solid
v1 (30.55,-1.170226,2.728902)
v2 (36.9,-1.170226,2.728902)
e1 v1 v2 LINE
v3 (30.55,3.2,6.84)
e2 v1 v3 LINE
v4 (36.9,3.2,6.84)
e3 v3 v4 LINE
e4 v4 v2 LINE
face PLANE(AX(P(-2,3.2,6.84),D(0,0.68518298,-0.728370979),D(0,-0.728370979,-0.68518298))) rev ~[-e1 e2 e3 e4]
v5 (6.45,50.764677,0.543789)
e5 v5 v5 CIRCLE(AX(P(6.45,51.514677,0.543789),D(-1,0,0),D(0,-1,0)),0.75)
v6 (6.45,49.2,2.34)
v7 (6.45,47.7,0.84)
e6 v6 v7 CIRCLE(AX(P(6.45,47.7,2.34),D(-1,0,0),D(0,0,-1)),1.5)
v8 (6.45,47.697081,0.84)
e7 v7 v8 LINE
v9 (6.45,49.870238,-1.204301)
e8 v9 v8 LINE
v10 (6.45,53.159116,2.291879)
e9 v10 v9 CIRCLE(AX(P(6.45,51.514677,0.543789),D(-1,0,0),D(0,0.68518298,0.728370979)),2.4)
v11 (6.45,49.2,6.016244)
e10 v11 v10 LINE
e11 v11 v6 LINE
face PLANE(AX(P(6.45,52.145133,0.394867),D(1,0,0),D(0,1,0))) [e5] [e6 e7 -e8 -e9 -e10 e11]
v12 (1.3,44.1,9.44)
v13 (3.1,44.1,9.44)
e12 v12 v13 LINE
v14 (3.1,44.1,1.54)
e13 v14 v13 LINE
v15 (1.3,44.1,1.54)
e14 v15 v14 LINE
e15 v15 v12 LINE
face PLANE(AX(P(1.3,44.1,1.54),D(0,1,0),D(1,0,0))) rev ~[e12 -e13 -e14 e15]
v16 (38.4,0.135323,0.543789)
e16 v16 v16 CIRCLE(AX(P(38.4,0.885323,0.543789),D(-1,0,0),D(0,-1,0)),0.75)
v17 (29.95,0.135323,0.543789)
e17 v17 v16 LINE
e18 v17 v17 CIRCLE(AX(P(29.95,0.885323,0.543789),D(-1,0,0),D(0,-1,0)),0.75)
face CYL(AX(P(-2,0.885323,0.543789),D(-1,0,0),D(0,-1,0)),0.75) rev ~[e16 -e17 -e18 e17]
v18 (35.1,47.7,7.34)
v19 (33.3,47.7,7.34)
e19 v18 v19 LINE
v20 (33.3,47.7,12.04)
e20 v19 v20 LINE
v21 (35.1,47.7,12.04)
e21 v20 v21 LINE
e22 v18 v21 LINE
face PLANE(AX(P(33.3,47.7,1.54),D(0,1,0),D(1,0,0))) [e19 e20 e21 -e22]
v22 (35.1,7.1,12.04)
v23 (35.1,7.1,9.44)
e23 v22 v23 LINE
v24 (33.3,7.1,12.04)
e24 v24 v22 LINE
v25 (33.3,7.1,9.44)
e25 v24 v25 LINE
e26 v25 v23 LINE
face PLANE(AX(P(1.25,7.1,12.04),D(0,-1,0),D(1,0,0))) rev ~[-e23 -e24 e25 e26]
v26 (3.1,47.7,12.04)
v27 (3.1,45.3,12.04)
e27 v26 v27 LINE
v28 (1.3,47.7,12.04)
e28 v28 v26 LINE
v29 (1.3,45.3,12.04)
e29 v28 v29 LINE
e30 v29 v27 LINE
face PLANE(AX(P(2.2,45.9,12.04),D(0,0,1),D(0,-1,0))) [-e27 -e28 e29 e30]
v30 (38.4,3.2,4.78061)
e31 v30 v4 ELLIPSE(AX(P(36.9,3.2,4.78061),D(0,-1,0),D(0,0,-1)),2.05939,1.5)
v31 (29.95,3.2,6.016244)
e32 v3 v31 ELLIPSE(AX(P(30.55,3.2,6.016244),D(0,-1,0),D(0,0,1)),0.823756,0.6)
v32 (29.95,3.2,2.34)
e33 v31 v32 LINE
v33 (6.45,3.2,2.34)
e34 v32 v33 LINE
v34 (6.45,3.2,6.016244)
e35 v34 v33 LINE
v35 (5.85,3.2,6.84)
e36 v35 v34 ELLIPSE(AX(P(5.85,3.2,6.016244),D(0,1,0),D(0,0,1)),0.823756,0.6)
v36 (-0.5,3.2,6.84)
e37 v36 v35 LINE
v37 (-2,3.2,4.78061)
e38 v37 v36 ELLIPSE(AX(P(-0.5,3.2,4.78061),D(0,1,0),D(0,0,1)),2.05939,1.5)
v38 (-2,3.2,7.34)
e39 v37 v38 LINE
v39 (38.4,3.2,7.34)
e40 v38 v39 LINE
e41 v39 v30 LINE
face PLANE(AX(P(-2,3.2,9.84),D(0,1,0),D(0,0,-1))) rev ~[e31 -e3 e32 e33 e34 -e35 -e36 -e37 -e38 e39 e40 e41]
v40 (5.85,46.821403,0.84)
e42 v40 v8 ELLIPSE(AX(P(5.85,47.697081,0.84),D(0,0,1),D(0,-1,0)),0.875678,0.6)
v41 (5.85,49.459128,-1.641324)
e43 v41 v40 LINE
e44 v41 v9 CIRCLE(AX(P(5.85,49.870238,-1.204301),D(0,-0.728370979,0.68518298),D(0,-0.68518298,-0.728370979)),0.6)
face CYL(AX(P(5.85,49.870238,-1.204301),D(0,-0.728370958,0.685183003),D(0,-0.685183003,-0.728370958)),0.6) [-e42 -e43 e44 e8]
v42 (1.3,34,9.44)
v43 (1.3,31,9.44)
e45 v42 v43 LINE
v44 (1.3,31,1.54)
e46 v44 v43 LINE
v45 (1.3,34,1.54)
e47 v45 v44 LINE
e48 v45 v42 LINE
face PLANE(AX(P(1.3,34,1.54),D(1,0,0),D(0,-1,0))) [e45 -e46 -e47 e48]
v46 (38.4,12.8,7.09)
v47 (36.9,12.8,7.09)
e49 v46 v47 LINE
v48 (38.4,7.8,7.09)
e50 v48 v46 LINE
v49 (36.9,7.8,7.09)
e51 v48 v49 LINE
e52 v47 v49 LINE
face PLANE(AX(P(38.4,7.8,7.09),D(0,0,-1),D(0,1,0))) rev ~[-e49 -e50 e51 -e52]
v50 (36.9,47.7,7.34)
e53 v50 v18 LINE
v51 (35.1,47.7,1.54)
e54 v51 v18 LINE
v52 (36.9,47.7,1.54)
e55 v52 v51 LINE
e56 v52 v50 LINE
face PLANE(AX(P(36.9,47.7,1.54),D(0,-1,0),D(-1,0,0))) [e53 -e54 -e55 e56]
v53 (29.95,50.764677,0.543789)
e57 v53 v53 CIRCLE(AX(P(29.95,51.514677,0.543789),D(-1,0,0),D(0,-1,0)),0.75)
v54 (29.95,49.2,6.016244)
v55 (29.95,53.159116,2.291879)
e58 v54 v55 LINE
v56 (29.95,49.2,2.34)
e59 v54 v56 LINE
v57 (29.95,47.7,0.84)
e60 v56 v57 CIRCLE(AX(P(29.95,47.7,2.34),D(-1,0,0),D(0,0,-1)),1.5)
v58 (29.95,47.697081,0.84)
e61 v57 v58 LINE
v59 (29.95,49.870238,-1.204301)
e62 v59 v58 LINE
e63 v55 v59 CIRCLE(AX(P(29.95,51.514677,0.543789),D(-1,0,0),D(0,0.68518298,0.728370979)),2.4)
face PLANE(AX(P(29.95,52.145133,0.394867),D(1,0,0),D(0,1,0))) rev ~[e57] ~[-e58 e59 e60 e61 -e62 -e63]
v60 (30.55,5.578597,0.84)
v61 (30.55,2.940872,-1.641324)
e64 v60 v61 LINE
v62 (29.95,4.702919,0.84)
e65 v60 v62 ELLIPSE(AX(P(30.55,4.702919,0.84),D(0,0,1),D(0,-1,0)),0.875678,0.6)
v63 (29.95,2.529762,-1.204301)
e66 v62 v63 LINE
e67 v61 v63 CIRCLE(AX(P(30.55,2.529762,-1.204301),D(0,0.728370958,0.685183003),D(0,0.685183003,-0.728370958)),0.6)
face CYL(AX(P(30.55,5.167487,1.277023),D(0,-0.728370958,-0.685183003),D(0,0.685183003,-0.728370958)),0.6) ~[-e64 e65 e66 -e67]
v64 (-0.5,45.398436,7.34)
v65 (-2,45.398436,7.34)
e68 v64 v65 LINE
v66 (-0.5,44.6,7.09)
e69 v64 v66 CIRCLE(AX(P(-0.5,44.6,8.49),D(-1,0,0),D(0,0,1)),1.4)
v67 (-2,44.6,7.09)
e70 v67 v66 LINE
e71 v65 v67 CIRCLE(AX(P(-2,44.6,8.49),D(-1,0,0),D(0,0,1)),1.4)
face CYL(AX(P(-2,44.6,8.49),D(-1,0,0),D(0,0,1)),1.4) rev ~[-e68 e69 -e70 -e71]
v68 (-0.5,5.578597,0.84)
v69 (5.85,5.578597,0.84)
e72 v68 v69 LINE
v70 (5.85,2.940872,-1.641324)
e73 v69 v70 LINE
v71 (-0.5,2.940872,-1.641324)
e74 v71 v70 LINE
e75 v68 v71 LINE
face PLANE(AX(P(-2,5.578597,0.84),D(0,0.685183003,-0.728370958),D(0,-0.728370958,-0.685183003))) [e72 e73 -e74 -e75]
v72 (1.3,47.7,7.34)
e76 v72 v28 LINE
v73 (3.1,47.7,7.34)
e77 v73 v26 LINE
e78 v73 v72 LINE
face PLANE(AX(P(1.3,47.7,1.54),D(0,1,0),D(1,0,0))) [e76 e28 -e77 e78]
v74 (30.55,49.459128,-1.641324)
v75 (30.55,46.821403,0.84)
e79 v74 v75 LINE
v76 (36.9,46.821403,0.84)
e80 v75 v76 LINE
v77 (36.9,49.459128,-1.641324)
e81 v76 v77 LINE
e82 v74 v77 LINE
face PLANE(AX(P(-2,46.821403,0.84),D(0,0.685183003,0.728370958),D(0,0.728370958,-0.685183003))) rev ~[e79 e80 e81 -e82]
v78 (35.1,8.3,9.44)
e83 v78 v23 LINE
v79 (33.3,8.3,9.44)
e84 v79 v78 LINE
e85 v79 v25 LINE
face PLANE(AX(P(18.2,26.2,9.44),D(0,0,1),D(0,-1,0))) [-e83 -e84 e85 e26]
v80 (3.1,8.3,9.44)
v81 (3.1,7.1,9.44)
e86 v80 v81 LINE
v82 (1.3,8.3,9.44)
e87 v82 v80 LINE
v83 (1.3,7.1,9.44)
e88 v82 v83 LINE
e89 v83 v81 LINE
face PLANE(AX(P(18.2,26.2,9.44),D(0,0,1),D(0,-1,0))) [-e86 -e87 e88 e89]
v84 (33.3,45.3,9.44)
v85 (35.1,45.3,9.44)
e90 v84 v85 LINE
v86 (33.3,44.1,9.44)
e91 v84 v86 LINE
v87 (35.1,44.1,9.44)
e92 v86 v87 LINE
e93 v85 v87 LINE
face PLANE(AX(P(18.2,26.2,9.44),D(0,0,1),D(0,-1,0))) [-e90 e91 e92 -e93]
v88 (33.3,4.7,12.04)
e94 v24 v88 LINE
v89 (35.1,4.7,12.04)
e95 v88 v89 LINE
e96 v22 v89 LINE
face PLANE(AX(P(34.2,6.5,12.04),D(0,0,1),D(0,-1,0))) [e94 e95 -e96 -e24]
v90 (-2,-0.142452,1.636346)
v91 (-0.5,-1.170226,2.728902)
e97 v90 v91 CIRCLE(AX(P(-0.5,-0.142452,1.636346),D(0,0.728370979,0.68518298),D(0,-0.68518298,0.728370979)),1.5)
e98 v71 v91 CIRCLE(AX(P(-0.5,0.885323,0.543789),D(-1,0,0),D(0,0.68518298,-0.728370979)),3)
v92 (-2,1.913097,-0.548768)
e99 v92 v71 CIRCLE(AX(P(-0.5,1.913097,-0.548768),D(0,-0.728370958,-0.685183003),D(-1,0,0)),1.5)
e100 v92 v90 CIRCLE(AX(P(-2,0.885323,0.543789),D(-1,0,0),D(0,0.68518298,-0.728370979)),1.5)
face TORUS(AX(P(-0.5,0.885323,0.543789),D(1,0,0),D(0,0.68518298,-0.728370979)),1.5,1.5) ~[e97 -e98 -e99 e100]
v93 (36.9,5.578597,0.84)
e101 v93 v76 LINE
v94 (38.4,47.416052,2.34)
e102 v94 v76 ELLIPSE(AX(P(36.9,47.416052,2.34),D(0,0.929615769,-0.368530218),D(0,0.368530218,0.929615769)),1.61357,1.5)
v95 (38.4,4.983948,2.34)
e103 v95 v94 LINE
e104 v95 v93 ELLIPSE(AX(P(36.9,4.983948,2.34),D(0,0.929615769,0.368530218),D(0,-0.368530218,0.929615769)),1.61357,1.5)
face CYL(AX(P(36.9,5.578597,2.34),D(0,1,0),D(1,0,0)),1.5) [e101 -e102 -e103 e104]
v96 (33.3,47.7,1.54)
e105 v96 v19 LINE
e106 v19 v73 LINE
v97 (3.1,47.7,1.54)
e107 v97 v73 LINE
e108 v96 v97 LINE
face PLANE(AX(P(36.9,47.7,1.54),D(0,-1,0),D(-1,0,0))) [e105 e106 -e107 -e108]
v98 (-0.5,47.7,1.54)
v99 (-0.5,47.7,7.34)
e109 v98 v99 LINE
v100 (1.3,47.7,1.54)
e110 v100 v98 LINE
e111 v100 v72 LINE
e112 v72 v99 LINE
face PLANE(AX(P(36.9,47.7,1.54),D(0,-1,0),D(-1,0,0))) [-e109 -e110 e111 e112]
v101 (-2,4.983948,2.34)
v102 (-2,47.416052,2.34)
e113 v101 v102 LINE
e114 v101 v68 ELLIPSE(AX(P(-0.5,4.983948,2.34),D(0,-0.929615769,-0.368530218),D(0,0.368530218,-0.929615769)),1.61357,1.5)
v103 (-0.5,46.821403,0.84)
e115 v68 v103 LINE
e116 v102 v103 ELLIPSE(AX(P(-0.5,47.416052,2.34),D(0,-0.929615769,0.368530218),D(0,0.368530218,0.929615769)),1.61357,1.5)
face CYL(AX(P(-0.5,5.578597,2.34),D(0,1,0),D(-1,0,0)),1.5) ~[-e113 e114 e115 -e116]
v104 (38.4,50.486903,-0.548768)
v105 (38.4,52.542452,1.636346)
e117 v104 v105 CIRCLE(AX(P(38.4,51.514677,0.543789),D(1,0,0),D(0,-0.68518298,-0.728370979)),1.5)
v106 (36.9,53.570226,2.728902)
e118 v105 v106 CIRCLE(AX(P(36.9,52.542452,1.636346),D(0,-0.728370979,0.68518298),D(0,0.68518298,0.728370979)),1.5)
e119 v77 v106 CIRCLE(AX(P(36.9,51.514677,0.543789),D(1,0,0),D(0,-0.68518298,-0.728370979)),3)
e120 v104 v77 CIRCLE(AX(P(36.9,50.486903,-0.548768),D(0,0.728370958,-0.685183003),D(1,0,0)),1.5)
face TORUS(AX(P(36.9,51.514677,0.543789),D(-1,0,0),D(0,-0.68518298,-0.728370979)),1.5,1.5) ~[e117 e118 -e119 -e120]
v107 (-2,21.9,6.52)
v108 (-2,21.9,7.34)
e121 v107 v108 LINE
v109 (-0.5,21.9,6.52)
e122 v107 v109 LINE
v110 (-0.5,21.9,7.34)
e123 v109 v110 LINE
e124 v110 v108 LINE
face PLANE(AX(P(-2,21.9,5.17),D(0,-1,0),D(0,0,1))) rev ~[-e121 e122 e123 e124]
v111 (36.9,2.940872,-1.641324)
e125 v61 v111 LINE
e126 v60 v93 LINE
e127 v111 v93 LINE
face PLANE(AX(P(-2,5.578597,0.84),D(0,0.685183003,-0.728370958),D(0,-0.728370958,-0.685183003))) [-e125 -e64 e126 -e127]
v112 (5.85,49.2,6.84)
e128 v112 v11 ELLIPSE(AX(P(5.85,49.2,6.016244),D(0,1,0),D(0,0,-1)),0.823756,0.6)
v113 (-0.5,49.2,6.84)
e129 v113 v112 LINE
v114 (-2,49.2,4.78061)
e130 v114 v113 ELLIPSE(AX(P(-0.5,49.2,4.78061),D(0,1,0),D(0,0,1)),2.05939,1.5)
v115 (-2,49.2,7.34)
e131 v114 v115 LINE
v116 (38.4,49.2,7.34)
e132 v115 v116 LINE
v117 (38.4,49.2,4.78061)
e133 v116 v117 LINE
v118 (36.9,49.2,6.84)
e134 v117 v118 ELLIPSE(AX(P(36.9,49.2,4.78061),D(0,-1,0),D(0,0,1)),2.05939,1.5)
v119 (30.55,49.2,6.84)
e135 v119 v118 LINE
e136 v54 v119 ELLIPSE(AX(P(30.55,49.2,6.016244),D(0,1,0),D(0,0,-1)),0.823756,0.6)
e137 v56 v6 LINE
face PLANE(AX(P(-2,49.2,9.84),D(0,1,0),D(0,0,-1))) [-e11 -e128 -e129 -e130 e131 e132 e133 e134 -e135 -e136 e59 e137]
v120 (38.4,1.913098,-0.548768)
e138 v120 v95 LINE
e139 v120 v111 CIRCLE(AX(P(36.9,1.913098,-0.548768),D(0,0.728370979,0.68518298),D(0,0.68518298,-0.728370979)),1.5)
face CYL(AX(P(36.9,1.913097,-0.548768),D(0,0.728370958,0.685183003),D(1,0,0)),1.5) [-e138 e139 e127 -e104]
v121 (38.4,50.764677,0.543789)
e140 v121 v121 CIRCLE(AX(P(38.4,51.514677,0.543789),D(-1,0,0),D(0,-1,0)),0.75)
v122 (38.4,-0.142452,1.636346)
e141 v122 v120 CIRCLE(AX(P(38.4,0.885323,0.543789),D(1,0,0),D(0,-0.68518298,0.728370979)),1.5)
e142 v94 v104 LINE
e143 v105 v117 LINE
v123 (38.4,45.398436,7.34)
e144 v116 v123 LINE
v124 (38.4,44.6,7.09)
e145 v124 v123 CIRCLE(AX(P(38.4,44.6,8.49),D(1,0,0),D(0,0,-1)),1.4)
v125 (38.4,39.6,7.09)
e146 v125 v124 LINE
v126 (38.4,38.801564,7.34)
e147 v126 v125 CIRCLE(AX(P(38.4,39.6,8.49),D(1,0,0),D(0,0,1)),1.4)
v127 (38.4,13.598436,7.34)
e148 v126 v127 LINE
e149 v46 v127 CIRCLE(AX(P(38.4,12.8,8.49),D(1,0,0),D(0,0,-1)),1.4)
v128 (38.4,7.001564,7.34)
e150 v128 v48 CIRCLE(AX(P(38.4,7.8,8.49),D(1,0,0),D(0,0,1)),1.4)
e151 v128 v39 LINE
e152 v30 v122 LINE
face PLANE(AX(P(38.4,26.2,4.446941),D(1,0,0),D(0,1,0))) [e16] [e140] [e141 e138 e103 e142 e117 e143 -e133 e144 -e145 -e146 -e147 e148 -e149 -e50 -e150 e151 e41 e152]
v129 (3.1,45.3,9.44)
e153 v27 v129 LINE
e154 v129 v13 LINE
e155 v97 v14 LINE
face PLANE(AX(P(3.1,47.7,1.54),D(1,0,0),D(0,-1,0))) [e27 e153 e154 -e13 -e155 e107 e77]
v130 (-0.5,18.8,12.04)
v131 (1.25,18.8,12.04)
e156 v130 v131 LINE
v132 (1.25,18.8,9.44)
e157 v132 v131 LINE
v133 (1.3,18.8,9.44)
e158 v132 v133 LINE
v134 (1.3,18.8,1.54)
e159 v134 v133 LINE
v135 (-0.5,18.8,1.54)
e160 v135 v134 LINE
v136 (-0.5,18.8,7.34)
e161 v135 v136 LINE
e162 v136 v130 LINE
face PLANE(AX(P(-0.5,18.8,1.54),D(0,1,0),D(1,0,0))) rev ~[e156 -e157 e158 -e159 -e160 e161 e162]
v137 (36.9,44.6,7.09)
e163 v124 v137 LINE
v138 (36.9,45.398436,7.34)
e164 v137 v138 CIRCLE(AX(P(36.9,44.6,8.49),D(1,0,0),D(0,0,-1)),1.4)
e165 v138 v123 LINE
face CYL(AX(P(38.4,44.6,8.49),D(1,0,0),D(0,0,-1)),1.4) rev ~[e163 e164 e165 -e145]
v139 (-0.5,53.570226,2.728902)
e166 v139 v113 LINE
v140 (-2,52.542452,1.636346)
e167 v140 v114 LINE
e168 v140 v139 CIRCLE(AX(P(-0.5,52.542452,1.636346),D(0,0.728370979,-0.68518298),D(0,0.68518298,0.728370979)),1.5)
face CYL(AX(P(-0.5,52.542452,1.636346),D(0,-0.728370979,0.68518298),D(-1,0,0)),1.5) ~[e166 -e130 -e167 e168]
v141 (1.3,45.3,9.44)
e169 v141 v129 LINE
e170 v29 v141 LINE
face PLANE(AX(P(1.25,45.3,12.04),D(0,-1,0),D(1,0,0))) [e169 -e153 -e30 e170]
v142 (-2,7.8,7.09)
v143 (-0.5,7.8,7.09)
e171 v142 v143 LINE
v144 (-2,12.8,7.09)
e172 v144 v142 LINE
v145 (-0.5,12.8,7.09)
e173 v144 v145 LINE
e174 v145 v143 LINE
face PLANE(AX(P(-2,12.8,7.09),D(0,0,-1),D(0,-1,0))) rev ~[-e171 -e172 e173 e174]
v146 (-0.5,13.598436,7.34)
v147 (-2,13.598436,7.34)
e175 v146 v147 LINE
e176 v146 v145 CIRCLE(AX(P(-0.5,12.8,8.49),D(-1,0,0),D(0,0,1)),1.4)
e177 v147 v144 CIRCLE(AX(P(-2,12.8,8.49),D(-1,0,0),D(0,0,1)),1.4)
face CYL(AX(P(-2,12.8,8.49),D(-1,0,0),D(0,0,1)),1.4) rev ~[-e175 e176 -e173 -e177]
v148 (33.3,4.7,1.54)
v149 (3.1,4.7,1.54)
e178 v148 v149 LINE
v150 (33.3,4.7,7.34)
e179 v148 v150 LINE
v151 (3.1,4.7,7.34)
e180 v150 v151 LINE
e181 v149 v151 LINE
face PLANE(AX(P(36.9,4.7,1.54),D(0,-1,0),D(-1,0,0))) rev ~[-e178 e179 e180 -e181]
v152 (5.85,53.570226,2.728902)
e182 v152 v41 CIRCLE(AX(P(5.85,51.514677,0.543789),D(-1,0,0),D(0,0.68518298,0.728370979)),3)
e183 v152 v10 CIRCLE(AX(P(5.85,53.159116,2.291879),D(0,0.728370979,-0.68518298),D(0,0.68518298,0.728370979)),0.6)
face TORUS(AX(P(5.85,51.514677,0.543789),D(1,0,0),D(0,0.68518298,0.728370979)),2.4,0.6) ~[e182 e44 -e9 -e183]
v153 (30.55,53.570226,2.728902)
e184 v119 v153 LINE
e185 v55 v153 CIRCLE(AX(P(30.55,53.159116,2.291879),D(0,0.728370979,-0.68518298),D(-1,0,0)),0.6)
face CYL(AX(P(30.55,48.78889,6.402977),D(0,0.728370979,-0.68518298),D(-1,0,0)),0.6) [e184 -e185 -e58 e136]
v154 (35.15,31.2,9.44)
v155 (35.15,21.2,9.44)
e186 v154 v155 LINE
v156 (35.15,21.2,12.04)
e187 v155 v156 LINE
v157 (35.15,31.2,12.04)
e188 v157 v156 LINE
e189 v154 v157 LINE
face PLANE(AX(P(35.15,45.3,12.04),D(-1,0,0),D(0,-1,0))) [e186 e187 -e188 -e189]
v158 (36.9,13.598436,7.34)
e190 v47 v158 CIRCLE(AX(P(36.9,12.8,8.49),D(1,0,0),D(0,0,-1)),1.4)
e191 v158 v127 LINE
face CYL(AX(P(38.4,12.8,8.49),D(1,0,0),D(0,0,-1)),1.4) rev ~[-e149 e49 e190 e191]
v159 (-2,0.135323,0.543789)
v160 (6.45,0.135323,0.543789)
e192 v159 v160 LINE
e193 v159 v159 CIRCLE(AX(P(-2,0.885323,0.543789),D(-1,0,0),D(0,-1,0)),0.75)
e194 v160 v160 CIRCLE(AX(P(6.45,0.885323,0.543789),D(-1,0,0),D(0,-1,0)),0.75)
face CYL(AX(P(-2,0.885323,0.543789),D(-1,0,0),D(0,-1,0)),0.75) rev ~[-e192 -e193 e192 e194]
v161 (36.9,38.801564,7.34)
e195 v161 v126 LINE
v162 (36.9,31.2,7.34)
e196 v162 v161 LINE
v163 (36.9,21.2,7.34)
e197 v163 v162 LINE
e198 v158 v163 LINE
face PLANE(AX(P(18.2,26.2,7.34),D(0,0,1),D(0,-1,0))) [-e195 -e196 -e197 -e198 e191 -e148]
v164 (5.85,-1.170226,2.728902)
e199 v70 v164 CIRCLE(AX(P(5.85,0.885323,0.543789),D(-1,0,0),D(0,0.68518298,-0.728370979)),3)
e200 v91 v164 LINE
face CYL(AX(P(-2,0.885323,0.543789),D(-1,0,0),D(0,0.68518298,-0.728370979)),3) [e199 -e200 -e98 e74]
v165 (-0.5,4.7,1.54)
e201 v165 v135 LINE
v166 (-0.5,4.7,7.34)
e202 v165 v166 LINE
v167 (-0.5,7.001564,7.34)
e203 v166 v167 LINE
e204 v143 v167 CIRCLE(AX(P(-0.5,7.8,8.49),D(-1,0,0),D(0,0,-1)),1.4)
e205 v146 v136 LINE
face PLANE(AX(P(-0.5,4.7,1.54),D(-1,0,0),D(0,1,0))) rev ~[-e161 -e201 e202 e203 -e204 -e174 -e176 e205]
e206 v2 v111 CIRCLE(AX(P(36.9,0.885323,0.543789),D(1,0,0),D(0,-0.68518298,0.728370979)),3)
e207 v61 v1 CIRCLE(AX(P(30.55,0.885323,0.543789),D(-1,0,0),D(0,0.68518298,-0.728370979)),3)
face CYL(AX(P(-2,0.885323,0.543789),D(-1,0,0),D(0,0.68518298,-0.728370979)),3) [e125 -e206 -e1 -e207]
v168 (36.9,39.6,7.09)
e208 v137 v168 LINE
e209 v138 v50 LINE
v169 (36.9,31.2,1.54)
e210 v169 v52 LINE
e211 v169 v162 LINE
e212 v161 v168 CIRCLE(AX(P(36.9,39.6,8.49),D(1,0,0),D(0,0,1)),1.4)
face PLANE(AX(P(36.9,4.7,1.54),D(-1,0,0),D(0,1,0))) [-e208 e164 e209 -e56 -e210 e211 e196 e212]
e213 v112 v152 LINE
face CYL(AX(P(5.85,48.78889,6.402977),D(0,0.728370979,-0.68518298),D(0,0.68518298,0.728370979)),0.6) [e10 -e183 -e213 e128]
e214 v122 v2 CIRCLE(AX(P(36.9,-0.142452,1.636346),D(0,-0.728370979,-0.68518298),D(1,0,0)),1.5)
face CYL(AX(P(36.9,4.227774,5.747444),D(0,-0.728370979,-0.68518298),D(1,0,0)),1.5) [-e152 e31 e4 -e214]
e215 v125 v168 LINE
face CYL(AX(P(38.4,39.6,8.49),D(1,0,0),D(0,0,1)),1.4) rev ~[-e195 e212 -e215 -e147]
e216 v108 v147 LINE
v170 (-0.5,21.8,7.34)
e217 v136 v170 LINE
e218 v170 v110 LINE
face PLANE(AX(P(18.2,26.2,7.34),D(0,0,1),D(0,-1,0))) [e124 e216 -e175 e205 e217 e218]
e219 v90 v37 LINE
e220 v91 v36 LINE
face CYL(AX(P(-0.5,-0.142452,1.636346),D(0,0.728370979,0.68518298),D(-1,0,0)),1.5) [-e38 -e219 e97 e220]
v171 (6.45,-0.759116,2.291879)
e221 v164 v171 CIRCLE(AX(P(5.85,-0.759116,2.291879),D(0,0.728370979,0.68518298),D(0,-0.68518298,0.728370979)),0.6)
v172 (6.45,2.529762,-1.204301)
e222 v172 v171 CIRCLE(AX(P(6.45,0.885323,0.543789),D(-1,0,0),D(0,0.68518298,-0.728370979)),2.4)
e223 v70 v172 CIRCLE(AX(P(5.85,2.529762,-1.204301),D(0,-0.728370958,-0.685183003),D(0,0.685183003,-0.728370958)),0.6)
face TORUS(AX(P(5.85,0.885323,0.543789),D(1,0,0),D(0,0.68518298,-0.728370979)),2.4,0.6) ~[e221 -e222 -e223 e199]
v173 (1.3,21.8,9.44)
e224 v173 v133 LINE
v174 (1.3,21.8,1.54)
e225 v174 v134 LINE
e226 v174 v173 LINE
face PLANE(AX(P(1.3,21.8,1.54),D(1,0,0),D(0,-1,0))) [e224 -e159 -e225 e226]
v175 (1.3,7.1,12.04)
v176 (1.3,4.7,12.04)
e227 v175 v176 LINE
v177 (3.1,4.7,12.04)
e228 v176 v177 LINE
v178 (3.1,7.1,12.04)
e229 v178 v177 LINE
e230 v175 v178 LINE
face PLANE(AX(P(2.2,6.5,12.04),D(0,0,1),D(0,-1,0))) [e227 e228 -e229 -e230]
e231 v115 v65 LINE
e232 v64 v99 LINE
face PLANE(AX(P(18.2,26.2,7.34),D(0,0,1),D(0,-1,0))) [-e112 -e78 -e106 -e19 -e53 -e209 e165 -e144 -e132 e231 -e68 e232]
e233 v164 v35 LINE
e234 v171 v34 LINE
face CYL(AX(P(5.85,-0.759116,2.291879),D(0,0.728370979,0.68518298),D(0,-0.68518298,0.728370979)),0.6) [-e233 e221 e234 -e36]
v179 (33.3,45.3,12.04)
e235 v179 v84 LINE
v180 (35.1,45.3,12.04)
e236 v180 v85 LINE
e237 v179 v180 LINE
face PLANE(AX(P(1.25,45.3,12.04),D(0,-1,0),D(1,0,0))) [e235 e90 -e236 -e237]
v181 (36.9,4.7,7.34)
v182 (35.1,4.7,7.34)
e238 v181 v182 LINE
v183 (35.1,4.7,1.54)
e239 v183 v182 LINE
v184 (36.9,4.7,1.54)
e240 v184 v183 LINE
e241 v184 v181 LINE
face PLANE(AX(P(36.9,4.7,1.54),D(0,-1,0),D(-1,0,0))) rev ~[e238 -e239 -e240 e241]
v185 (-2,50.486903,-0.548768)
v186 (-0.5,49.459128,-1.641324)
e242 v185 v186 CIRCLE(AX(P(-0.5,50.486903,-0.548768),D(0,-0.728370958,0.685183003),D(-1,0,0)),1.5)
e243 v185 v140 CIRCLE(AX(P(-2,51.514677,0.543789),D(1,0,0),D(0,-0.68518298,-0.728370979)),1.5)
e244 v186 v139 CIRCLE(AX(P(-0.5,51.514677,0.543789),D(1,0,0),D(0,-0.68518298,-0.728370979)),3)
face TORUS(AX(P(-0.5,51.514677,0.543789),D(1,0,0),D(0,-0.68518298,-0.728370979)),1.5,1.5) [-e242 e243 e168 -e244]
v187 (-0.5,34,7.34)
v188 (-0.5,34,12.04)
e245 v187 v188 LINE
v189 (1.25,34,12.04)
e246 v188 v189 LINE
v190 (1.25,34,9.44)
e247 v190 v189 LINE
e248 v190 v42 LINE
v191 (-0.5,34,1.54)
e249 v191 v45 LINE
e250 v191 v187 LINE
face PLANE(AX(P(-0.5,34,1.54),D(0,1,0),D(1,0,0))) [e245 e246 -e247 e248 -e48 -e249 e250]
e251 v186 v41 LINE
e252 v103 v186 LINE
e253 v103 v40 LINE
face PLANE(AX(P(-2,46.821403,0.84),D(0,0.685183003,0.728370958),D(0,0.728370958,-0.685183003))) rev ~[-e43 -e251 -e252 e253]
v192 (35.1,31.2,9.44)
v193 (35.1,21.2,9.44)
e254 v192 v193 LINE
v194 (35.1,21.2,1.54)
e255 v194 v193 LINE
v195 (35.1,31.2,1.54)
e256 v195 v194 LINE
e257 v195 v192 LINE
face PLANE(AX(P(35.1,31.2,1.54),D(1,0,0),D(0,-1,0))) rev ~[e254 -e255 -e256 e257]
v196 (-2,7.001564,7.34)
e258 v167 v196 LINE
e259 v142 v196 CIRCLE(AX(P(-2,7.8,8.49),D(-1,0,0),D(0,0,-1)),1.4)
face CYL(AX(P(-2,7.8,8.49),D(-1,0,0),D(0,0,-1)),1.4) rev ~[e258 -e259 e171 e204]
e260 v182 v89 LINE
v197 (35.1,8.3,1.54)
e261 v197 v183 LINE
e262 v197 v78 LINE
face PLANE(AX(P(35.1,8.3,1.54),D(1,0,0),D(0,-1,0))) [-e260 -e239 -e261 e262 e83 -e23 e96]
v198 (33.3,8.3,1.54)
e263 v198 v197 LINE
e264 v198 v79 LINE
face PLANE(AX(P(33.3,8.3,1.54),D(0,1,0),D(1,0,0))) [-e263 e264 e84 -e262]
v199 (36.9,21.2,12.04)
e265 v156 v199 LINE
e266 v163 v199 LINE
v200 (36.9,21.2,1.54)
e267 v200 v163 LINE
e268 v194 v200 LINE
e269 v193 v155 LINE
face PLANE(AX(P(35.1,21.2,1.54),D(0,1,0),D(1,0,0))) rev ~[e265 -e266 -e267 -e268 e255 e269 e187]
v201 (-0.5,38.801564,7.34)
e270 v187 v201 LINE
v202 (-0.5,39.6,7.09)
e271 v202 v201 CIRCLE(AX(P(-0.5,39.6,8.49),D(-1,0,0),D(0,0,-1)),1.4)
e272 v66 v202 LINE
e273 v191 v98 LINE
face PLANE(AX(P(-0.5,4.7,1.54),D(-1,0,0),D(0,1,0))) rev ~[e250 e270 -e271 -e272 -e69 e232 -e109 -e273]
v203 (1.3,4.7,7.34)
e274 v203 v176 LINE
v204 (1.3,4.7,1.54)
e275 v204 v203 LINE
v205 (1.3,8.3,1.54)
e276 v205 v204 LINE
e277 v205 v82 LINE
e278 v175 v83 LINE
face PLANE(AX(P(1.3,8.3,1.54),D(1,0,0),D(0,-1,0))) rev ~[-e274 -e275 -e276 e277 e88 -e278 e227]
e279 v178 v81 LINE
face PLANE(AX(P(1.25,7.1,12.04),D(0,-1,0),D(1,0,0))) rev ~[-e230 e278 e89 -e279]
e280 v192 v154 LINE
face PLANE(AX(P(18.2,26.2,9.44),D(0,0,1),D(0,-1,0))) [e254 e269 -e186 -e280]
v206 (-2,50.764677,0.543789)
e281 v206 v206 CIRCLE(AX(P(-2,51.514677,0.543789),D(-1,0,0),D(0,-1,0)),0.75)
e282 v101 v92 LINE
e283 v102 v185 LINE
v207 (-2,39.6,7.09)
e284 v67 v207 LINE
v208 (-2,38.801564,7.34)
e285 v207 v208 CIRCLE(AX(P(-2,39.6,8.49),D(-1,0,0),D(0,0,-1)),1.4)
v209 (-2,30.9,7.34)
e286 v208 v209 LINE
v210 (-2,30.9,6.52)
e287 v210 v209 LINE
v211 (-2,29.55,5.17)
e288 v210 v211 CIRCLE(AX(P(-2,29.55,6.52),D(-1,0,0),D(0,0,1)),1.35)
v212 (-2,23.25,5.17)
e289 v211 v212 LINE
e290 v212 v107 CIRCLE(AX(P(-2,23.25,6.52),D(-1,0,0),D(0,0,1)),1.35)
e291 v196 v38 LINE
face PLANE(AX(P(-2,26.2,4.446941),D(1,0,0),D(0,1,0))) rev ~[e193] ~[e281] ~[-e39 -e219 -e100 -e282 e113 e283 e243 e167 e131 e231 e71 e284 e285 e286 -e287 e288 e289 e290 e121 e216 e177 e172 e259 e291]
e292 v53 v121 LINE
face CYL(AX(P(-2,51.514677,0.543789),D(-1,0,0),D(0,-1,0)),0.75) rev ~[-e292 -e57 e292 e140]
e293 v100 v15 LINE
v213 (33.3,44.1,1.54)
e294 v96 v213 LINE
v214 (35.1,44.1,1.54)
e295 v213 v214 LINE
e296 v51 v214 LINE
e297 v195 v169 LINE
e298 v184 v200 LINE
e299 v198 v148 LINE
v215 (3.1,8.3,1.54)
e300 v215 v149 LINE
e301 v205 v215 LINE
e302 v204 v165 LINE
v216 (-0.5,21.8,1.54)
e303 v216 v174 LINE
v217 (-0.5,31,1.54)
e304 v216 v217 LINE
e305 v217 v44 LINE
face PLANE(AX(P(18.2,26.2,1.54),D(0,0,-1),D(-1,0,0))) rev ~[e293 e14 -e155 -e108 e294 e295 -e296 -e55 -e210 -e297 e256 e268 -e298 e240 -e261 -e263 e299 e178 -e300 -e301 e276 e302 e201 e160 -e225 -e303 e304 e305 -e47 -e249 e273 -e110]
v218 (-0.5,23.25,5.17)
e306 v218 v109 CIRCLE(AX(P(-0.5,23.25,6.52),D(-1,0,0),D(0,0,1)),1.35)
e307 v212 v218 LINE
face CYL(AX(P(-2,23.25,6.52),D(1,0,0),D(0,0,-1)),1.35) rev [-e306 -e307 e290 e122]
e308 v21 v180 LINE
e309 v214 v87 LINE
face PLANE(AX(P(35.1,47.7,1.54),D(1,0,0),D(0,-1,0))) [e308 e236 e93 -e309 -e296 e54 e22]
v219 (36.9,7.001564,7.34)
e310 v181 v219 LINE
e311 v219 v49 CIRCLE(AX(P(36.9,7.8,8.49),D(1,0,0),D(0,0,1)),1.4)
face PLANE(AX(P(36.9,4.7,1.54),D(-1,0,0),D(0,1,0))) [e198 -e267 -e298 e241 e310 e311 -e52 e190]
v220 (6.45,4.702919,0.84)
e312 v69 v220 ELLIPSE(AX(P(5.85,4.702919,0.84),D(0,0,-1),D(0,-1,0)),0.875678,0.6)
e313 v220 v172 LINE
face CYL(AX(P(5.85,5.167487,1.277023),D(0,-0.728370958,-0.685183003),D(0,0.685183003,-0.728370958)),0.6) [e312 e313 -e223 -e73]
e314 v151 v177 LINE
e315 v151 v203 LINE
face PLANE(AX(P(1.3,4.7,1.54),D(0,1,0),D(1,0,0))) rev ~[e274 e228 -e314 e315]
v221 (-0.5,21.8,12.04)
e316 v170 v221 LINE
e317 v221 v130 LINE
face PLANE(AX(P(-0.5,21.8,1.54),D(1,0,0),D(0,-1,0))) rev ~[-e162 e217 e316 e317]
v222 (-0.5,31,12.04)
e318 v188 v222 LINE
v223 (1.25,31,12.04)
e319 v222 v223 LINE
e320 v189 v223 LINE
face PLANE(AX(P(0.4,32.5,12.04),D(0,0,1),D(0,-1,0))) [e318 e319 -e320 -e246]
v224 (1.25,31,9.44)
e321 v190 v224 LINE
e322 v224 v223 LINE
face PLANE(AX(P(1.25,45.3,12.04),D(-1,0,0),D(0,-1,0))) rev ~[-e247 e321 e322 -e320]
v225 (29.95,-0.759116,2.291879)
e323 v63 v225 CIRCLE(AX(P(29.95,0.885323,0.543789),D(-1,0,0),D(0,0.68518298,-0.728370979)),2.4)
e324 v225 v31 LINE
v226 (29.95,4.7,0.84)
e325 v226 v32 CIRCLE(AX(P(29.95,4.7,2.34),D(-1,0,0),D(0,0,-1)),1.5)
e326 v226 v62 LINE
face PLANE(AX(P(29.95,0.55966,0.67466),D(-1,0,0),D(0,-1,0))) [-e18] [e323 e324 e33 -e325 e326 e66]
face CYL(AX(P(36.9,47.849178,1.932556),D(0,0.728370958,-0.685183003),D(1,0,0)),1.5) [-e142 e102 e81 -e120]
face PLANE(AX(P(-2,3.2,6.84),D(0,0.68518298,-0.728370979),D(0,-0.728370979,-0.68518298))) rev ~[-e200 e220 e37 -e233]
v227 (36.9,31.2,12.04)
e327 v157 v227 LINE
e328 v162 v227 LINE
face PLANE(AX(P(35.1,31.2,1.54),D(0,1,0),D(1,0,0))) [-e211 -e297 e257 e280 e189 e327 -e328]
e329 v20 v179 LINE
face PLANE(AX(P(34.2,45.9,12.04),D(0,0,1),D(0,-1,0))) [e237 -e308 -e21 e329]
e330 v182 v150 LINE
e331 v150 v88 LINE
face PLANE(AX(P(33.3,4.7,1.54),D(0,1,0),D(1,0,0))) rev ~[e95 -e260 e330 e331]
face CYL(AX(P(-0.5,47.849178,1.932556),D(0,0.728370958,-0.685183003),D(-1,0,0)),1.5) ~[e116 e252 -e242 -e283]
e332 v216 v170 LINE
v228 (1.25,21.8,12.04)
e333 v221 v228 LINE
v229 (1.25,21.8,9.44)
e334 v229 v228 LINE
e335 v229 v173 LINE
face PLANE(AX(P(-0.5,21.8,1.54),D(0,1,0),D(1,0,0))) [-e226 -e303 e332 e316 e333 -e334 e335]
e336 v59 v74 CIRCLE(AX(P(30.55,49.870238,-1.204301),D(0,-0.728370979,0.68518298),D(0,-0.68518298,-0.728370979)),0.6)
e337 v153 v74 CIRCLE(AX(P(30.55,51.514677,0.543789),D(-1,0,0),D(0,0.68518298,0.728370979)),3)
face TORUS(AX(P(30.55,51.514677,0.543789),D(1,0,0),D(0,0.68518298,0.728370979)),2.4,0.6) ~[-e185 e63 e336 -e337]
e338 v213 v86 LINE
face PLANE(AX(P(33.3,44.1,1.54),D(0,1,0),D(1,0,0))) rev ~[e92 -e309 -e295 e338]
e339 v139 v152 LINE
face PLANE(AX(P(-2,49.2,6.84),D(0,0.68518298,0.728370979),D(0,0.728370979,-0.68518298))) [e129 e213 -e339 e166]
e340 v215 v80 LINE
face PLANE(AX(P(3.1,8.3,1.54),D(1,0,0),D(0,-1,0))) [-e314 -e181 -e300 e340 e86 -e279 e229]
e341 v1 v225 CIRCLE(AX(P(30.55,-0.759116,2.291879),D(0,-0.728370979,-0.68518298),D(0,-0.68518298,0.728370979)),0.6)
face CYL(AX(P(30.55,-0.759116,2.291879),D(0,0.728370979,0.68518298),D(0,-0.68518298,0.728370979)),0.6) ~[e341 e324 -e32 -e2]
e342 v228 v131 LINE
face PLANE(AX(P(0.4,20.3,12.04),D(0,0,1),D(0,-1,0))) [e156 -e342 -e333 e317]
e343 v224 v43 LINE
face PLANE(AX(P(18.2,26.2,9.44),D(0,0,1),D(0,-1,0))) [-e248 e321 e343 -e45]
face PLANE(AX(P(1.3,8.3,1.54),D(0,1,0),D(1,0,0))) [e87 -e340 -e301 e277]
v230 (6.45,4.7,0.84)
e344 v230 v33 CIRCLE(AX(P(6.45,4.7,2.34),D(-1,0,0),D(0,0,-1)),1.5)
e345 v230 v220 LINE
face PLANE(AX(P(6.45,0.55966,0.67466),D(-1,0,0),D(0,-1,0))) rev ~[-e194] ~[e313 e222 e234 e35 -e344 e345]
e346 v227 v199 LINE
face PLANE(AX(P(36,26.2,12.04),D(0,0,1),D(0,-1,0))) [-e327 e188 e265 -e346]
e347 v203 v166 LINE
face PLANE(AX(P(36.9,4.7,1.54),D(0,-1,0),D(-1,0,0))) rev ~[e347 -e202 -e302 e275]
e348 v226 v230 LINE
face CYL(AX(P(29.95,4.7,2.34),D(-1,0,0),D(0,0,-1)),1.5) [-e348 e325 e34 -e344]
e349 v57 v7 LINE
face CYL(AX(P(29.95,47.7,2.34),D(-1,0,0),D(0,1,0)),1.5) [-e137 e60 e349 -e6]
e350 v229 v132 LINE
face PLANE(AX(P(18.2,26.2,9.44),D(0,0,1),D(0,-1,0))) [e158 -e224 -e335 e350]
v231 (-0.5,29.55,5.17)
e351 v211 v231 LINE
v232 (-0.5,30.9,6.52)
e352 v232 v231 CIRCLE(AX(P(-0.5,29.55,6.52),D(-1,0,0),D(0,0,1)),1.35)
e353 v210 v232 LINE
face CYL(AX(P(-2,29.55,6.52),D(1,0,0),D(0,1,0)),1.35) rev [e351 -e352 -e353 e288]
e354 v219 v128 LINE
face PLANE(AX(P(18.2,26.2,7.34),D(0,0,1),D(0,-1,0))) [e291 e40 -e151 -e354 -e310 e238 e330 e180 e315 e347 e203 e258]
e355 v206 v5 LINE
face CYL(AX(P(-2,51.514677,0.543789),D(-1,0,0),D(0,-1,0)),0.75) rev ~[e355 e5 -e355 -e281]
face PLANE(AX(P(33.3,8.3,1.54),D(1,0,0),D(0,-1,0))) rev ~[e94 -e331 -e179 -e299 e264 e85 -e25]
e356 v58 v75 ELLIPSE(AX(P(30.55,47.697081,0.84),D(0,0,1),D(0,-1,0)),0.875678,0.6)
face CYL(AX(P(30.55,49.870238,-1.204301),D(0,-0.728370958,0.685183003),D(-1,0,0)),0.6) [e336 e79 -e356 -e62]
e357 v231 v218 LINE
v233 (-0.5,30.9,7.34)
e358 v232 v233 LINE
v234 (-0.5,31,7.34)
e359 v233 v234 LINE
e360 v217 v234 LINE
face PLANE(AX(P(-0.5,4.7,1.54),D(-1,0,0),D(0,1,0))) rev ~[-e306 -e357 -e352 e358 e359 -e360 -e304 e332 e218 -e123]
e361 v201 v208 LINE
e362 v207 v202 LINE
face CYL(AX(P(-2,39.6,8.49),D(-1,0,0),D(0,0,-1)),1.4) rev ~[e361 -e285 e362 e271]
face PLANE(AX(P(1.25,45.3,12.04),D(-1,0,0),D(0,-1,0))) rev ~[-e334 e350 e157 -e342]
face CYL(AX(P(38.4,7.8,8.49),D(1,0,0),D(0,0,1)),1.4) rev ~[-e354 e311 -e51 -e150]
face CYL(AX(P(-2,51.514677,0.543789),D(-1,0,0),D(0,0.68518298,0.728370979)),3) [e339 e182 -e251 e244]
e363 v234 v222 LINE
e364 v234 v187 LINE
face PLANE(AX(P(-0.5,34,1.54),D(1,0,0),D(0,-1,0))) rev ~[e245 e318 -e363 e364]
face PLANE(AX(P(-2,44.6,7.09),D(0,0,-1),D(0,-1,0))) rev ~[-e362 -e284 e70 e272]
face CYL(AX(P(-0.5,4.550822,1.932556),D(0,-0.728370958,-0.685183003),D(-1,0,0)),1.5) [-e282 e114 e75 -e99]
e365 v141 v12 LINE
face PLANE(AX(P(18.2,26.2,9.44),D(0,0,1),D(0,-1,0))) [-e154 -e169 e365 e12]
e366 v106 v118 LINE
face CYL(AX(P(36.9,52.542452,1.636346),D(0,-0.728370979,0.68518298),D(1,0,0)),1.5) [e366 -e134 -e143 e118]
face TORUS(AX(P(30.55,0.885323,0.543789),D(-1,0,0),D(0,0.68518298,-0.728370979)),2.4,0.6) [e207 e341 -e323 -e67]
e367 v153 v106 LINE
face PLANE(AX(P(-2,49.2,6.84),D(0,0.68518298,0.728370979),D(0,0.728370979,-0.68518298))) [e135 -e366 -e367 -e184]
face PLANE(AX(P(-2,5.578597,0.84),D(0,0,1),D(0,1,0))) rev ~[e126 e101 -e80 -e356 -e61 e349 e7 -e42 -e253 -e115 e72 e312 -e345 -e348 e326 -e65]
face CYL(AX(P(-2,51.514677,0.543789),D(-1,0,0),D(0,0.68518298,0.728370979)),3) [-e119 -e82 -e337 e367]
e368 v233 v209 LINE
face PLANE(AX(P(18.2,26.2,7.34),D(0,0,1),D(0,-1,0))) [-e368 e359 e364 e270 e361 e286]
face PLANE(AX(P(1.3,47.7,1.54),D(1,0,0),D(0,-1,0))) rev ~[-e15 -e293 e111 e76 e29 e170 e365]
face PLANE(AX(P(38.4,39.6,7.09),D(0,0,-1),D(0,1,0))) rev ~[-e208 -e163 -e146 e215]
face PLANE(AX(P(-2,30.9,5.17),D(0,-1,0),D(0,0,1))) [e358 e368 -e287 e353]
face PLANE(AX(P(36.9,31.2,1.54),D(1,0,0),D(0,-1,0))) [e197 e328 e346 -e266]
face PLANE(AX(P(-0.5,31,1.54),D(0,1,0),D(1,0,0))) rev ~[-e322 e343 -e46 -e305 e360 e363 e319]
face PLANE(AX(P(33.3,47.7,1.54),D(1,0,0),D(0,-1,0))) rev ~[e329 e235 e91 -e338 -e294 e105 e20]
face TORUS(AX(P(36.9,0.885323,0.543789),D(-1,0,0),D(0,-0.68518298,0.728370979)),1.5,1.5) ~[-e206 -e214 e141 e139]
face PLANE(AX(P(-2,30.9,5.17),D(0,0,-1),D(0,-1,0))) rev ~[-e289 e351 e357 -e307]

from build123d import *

# Parameters (mm, degrees)
SKETCH003_R     = 0.75
PAD002_DEPTH    = 40.4
SKETCH002_W     = 37.4
SKETCH002_H     = 43
POCKET_DEPTH    = 13
SKETCH004_W     = 9
SKETCH004_H     = 3.2
POCKET001_DEPTH = 2
POCKET005_DEPTH = 2
POCKET006_DEPTH = 2
SKETCH015_W     = 46
SKETCH015_H     = 40.4
POCKET010_DEPTH = 2.5
SKETCH018_W     = 3.6
SKETCH018_H     = 1.8
SKETCH018_W_2   = 10
SKETCH018_W_3   = 3
PAD004_DEPTH    = 10.5
SKETCH020_W     = 38.2
SKETCH020_H     = 33.9
POCKET013_DEPTH = 2.6
POCKET015_DEPTH = 23.5
FILLET004_R     = 1.5
FILLET005_R     = 0.6
FILLET006_R     = 1.35


with BuildPart() as part:
    # Sketch003 → Pad002 (new body)
    with BuildSketch(Plane(origin=(-2, 0, 0), x_dir=(0, -1, 0), z_dir=(-1, 0, 0))):
        with BuildLine():
            Line((-3.2, 6), (1.170226, 1.888902))
            ThreePointArc((-2.940872, -2.481324), (1.29979, -2.35176), (1.170226, 1.888902))
            Line((-5.578597, 0), (-2.940872, -2.481324))
            Line((-5.578597, 0), (-46.821403, 0))
            Line((-46.821403, 0), (-49.459128, -2.481324))
            ThreePointArc((-53.570226, 1.888902), (-53.69979, -2.35176), (-49.459128, -2.481324))
            Line((-49.2, 6), (-53.570226, 1.888902))
            Line((-49.2, 9), (-49.2, 6))
            Line((-3.2, 9), (-49.2, 9))
            Line((-3.2, 9), (-3.2, 6))
        make_face()
        with Locations((-51.514677, -0.296211)):
            Circle(SKETCH003_R, mode=Mode.SUBTRACT)
        with Locations((-0.885323, -0.296211)):
            Circle(SKETCH003_R, mode=Mode.SUBTRACT)
    extrude(amount=-PAD002_DEPTH)

    # Sketch002 → Pocket (cut)
    with BuildSketch(Plane(origin=(0, 0, 0.7), x_dir=(-1, 0, 0), z_dir=(0, 0, -1))):
        with Locations((-18.2, 26.2)):
            Rectangle(SKETCH002_W, SKETCH002_H)
    extrude(amount=-POCKET_DEPTH, mode=Mode.SUBTRACT)

    # Sketch004 (on Face4 of Pocket) → Pocket001 (cut)
    with BuildSketch(Plane(origin=(-2, 0, 0), x_dir=(0, -1, 0), z_dir=(-1, 0, 0))):
        with Locations((-26.4, 5.93)):
            Rectangle(SKETCH004_W, SKETCH004_H)
    extrude(amount=-POCKET001_DEPTH, mode=Mode.SUBTRACT)

    # Sketch010 (on Face5 of Pocket001) → Pocket005 (cut)
    with BuildSketch(Plane.YZ.offset(38.4)):
        with BuildLine():
            ThreePointArc((7.8, 9.05), (6.4, 7.65), (7.8, 6.25))
            Line((7.8, 6.25), (12.8, 6.25))
            ThreePointArc((12.8, 6.25), (14.2, 7.65), (12.8, 9.05))
            Line((12.8, 9.05), (7.8, 9.05))
        make_face()
        with BuildLine():
            ThreePointArc((39.6, 9.05), (38.2, 7.65), (39.6, 6.25))
            Line((39.6, 6.25), (44.6, 6.25))
            ThreePointArc((44.6, 6.25), (46, 7.65), (44.6, 9.05))
            Line((44.6, 9.05), (39.6, 9.05))
        make_face()
    extrude(amount=-POCKET005_DEPTH, mode=Mode.SUBTRACT)

    # Sketch011 (on Face4 of Pocket005) → Pocket006 (cut)
    with BuildSketch(Plane(origin=(-2, 0, 0), x_dir=(0, -1, 0), z_dir=(-1, 0, 0))):
        with BuildLine():
            ThreePointArc((-44.6, 9.05), (-46, 7.65), (-44.6, 6.25))
            Line((-44.6, 6.25), (-39.6, 6.25))
            ThreePointArc((-39.6, 6.25), (-38.2, 7.65), (-39.6, 9.05))
            Line((-39.6, 9.05), (-44.6, 9.05))
        make_face()
        with BuildLine():
            ThreePointArc((-12.8, 9.05), (-14.2, 7.65), (-12.8, 6.25))
            Line((-12.8, 6.25), (-7.8, 6.25))
            ThreePointArc((-7.8, 6.25), (-6.4, 7.65), (-7.8, 9.05))
            Line((-7.8, 9.05), (-12.8, 9.05))
        make_face()
    extrude(amount=-POCKET006_DEPTH, mode=Mode.SUBTRACT)

    # Sketch015 (on Face2 of Pocket006) → Pocket010 (cut)
    with BuildSketch(Plane(origin=(0, 0, 9), x_dir=(0, -1, 0), z_dir=(0, 0, 1))):
        with Locations((-26.2, 18.2)):
            Rectangle(SKETCH015_W, SKETCH015_H)
    extrude(amount=-POCKET010_DEPTH, mode=Mode.SUBTRACT)

    # Sketch018 (on Face23 of Pocket001) → Pad004 (join)
    with BuildSketch(Plane(origin=(0, 0, 0.7), x_dir=(0, -1, 0), z_dir=(0, 0, 1))):
        with Locations((-45.9, 2.2)):
            Rectangle(SKETCH018_W, SKETCH018_H)
        with Locations((-6.5, 2.2)):
            Rectangle(SKETCH018_W, SKETCH018_H)
        with Locations((-6.5, 34.2)):
            Rectangle(SKETCH018_W, SKETCH018_H)
        with Locations((-45.9, 34.2)):
            Rectangle(SKETCH018_W, SKETCH018_H)
        with Locations((-26.2, 36)):
            Rectangle(SKETCH018_W_2, SKETCH018_H)
        with Locations((-20.3, 0.4)):
            Rectangle(SKETCH018_W_3, SKETCH018_H)
        with Locations((-32.5, 0.4)):
            Rectangle(SKETCH018_W_3, SKETCH018_H)
    extrude(amount=PAD004_DEPTH)

    # Sketch020 (on Face72 of Pad004) → Pocket013 (cut)
    with BuildSketch(Plane(origin=(0, 0, 11.2), x_dir=(0, -1, 0), z_dir=(0, 0, 1))):
        with Locations((-26.2, 18.2)):
            Rectangle(SKETCH020_W, SKETCH020_H)
    extrude(amount=-POCKET013_DEPTH, mode=Mode.SUBTRACT)

    # Sketch021 (on Face4 of Pocket010) → Pocket015 (cut)
    with BuildSketch(Plane.YZ.offset(29.95)):
        Polygon((3.2, 6), (3.2, 0), (5.8, 0), (5.8, -5.6), (-3.95, -5.6), (-3.95, 6), align=None)
        Polygon((49.2, 6), (49.2, 0), (46.6, 0), (46.6, -6.2), (57, -6.2), (57, 6), align=None)
    extrude(amount=-POCKET015_DEPTH, mode=Mode.SUBTRACT)

    # Fillet004
    fillet004_edges = [part.edges().sort_by_distance(p)[0] for p in [
        (18.2, 3.2, 0),
        (18.2, 49.2, 0),
        (-2, 26.2, 0),
        (-2, 4.259735, -1.240662),
        (-2, -1.29979, -2.35176),
        (-2, 1.014887, 3.944451),
        (38.4, 1.014887, 3.944451),
        (38.4, -1.29979, -2.35176),
        (38.4, 4.259735, -1.240662),
        (38.4, 26.2, 0),
        (38.4, 48.140265, -1.240662),
        (38.4, 53.69979, -2.35176),
        (38.4, 51.385113, 3.944451),
        (-2, 48.140265, -1.240662),
        (-2, 53.69979, -2.35176),
        (-2, 51.385113, 3.944451),
    ]]
    fillet(fillet004_edges, radius=FILLET004_R)

    # Fillet005
    fillet005_edges = [part.edges().sort_by_distance(p)[0] for p in [
        (6.45, 51.385113, 3.944451),
        (6.45, 53.69979, -2.35176),
        (6.45, 48.140265, -1.240662),
        (29.95, 51.385113, 3.944451),
        (29.95, 53.69979, -2.35176),
        (29.95, 48.140265, -1.240662),
        (29.95, 1.014887, 3.944451),
        (29.95, -1.29979, -2.35176),
        (29.95, 4.259735, -1.240662),
        (6.45, 1.014887, 3.944451),
        (6.45, -1.29979, -2.35176),
        (6.45, 4.259735, -1.240662),
    ]]
    fillet(fillet005_edges, radius=FILLET005_R)

    # Fillet006
    fillet006_edges = [part.edges().sort_by_distance(p)[0] for p in [
        (-1.25, 21.9, 4.33),
        (-1.25, 30.9, 4.33),
    ]]
    fillet(fillet006_edges, radius=FILLET006_R)


with BuildPart() as part_1:
    # Body002 placement: moved
    add(part.part.moved(Location((0, 0, 0.84))))


solid = part_1.part
